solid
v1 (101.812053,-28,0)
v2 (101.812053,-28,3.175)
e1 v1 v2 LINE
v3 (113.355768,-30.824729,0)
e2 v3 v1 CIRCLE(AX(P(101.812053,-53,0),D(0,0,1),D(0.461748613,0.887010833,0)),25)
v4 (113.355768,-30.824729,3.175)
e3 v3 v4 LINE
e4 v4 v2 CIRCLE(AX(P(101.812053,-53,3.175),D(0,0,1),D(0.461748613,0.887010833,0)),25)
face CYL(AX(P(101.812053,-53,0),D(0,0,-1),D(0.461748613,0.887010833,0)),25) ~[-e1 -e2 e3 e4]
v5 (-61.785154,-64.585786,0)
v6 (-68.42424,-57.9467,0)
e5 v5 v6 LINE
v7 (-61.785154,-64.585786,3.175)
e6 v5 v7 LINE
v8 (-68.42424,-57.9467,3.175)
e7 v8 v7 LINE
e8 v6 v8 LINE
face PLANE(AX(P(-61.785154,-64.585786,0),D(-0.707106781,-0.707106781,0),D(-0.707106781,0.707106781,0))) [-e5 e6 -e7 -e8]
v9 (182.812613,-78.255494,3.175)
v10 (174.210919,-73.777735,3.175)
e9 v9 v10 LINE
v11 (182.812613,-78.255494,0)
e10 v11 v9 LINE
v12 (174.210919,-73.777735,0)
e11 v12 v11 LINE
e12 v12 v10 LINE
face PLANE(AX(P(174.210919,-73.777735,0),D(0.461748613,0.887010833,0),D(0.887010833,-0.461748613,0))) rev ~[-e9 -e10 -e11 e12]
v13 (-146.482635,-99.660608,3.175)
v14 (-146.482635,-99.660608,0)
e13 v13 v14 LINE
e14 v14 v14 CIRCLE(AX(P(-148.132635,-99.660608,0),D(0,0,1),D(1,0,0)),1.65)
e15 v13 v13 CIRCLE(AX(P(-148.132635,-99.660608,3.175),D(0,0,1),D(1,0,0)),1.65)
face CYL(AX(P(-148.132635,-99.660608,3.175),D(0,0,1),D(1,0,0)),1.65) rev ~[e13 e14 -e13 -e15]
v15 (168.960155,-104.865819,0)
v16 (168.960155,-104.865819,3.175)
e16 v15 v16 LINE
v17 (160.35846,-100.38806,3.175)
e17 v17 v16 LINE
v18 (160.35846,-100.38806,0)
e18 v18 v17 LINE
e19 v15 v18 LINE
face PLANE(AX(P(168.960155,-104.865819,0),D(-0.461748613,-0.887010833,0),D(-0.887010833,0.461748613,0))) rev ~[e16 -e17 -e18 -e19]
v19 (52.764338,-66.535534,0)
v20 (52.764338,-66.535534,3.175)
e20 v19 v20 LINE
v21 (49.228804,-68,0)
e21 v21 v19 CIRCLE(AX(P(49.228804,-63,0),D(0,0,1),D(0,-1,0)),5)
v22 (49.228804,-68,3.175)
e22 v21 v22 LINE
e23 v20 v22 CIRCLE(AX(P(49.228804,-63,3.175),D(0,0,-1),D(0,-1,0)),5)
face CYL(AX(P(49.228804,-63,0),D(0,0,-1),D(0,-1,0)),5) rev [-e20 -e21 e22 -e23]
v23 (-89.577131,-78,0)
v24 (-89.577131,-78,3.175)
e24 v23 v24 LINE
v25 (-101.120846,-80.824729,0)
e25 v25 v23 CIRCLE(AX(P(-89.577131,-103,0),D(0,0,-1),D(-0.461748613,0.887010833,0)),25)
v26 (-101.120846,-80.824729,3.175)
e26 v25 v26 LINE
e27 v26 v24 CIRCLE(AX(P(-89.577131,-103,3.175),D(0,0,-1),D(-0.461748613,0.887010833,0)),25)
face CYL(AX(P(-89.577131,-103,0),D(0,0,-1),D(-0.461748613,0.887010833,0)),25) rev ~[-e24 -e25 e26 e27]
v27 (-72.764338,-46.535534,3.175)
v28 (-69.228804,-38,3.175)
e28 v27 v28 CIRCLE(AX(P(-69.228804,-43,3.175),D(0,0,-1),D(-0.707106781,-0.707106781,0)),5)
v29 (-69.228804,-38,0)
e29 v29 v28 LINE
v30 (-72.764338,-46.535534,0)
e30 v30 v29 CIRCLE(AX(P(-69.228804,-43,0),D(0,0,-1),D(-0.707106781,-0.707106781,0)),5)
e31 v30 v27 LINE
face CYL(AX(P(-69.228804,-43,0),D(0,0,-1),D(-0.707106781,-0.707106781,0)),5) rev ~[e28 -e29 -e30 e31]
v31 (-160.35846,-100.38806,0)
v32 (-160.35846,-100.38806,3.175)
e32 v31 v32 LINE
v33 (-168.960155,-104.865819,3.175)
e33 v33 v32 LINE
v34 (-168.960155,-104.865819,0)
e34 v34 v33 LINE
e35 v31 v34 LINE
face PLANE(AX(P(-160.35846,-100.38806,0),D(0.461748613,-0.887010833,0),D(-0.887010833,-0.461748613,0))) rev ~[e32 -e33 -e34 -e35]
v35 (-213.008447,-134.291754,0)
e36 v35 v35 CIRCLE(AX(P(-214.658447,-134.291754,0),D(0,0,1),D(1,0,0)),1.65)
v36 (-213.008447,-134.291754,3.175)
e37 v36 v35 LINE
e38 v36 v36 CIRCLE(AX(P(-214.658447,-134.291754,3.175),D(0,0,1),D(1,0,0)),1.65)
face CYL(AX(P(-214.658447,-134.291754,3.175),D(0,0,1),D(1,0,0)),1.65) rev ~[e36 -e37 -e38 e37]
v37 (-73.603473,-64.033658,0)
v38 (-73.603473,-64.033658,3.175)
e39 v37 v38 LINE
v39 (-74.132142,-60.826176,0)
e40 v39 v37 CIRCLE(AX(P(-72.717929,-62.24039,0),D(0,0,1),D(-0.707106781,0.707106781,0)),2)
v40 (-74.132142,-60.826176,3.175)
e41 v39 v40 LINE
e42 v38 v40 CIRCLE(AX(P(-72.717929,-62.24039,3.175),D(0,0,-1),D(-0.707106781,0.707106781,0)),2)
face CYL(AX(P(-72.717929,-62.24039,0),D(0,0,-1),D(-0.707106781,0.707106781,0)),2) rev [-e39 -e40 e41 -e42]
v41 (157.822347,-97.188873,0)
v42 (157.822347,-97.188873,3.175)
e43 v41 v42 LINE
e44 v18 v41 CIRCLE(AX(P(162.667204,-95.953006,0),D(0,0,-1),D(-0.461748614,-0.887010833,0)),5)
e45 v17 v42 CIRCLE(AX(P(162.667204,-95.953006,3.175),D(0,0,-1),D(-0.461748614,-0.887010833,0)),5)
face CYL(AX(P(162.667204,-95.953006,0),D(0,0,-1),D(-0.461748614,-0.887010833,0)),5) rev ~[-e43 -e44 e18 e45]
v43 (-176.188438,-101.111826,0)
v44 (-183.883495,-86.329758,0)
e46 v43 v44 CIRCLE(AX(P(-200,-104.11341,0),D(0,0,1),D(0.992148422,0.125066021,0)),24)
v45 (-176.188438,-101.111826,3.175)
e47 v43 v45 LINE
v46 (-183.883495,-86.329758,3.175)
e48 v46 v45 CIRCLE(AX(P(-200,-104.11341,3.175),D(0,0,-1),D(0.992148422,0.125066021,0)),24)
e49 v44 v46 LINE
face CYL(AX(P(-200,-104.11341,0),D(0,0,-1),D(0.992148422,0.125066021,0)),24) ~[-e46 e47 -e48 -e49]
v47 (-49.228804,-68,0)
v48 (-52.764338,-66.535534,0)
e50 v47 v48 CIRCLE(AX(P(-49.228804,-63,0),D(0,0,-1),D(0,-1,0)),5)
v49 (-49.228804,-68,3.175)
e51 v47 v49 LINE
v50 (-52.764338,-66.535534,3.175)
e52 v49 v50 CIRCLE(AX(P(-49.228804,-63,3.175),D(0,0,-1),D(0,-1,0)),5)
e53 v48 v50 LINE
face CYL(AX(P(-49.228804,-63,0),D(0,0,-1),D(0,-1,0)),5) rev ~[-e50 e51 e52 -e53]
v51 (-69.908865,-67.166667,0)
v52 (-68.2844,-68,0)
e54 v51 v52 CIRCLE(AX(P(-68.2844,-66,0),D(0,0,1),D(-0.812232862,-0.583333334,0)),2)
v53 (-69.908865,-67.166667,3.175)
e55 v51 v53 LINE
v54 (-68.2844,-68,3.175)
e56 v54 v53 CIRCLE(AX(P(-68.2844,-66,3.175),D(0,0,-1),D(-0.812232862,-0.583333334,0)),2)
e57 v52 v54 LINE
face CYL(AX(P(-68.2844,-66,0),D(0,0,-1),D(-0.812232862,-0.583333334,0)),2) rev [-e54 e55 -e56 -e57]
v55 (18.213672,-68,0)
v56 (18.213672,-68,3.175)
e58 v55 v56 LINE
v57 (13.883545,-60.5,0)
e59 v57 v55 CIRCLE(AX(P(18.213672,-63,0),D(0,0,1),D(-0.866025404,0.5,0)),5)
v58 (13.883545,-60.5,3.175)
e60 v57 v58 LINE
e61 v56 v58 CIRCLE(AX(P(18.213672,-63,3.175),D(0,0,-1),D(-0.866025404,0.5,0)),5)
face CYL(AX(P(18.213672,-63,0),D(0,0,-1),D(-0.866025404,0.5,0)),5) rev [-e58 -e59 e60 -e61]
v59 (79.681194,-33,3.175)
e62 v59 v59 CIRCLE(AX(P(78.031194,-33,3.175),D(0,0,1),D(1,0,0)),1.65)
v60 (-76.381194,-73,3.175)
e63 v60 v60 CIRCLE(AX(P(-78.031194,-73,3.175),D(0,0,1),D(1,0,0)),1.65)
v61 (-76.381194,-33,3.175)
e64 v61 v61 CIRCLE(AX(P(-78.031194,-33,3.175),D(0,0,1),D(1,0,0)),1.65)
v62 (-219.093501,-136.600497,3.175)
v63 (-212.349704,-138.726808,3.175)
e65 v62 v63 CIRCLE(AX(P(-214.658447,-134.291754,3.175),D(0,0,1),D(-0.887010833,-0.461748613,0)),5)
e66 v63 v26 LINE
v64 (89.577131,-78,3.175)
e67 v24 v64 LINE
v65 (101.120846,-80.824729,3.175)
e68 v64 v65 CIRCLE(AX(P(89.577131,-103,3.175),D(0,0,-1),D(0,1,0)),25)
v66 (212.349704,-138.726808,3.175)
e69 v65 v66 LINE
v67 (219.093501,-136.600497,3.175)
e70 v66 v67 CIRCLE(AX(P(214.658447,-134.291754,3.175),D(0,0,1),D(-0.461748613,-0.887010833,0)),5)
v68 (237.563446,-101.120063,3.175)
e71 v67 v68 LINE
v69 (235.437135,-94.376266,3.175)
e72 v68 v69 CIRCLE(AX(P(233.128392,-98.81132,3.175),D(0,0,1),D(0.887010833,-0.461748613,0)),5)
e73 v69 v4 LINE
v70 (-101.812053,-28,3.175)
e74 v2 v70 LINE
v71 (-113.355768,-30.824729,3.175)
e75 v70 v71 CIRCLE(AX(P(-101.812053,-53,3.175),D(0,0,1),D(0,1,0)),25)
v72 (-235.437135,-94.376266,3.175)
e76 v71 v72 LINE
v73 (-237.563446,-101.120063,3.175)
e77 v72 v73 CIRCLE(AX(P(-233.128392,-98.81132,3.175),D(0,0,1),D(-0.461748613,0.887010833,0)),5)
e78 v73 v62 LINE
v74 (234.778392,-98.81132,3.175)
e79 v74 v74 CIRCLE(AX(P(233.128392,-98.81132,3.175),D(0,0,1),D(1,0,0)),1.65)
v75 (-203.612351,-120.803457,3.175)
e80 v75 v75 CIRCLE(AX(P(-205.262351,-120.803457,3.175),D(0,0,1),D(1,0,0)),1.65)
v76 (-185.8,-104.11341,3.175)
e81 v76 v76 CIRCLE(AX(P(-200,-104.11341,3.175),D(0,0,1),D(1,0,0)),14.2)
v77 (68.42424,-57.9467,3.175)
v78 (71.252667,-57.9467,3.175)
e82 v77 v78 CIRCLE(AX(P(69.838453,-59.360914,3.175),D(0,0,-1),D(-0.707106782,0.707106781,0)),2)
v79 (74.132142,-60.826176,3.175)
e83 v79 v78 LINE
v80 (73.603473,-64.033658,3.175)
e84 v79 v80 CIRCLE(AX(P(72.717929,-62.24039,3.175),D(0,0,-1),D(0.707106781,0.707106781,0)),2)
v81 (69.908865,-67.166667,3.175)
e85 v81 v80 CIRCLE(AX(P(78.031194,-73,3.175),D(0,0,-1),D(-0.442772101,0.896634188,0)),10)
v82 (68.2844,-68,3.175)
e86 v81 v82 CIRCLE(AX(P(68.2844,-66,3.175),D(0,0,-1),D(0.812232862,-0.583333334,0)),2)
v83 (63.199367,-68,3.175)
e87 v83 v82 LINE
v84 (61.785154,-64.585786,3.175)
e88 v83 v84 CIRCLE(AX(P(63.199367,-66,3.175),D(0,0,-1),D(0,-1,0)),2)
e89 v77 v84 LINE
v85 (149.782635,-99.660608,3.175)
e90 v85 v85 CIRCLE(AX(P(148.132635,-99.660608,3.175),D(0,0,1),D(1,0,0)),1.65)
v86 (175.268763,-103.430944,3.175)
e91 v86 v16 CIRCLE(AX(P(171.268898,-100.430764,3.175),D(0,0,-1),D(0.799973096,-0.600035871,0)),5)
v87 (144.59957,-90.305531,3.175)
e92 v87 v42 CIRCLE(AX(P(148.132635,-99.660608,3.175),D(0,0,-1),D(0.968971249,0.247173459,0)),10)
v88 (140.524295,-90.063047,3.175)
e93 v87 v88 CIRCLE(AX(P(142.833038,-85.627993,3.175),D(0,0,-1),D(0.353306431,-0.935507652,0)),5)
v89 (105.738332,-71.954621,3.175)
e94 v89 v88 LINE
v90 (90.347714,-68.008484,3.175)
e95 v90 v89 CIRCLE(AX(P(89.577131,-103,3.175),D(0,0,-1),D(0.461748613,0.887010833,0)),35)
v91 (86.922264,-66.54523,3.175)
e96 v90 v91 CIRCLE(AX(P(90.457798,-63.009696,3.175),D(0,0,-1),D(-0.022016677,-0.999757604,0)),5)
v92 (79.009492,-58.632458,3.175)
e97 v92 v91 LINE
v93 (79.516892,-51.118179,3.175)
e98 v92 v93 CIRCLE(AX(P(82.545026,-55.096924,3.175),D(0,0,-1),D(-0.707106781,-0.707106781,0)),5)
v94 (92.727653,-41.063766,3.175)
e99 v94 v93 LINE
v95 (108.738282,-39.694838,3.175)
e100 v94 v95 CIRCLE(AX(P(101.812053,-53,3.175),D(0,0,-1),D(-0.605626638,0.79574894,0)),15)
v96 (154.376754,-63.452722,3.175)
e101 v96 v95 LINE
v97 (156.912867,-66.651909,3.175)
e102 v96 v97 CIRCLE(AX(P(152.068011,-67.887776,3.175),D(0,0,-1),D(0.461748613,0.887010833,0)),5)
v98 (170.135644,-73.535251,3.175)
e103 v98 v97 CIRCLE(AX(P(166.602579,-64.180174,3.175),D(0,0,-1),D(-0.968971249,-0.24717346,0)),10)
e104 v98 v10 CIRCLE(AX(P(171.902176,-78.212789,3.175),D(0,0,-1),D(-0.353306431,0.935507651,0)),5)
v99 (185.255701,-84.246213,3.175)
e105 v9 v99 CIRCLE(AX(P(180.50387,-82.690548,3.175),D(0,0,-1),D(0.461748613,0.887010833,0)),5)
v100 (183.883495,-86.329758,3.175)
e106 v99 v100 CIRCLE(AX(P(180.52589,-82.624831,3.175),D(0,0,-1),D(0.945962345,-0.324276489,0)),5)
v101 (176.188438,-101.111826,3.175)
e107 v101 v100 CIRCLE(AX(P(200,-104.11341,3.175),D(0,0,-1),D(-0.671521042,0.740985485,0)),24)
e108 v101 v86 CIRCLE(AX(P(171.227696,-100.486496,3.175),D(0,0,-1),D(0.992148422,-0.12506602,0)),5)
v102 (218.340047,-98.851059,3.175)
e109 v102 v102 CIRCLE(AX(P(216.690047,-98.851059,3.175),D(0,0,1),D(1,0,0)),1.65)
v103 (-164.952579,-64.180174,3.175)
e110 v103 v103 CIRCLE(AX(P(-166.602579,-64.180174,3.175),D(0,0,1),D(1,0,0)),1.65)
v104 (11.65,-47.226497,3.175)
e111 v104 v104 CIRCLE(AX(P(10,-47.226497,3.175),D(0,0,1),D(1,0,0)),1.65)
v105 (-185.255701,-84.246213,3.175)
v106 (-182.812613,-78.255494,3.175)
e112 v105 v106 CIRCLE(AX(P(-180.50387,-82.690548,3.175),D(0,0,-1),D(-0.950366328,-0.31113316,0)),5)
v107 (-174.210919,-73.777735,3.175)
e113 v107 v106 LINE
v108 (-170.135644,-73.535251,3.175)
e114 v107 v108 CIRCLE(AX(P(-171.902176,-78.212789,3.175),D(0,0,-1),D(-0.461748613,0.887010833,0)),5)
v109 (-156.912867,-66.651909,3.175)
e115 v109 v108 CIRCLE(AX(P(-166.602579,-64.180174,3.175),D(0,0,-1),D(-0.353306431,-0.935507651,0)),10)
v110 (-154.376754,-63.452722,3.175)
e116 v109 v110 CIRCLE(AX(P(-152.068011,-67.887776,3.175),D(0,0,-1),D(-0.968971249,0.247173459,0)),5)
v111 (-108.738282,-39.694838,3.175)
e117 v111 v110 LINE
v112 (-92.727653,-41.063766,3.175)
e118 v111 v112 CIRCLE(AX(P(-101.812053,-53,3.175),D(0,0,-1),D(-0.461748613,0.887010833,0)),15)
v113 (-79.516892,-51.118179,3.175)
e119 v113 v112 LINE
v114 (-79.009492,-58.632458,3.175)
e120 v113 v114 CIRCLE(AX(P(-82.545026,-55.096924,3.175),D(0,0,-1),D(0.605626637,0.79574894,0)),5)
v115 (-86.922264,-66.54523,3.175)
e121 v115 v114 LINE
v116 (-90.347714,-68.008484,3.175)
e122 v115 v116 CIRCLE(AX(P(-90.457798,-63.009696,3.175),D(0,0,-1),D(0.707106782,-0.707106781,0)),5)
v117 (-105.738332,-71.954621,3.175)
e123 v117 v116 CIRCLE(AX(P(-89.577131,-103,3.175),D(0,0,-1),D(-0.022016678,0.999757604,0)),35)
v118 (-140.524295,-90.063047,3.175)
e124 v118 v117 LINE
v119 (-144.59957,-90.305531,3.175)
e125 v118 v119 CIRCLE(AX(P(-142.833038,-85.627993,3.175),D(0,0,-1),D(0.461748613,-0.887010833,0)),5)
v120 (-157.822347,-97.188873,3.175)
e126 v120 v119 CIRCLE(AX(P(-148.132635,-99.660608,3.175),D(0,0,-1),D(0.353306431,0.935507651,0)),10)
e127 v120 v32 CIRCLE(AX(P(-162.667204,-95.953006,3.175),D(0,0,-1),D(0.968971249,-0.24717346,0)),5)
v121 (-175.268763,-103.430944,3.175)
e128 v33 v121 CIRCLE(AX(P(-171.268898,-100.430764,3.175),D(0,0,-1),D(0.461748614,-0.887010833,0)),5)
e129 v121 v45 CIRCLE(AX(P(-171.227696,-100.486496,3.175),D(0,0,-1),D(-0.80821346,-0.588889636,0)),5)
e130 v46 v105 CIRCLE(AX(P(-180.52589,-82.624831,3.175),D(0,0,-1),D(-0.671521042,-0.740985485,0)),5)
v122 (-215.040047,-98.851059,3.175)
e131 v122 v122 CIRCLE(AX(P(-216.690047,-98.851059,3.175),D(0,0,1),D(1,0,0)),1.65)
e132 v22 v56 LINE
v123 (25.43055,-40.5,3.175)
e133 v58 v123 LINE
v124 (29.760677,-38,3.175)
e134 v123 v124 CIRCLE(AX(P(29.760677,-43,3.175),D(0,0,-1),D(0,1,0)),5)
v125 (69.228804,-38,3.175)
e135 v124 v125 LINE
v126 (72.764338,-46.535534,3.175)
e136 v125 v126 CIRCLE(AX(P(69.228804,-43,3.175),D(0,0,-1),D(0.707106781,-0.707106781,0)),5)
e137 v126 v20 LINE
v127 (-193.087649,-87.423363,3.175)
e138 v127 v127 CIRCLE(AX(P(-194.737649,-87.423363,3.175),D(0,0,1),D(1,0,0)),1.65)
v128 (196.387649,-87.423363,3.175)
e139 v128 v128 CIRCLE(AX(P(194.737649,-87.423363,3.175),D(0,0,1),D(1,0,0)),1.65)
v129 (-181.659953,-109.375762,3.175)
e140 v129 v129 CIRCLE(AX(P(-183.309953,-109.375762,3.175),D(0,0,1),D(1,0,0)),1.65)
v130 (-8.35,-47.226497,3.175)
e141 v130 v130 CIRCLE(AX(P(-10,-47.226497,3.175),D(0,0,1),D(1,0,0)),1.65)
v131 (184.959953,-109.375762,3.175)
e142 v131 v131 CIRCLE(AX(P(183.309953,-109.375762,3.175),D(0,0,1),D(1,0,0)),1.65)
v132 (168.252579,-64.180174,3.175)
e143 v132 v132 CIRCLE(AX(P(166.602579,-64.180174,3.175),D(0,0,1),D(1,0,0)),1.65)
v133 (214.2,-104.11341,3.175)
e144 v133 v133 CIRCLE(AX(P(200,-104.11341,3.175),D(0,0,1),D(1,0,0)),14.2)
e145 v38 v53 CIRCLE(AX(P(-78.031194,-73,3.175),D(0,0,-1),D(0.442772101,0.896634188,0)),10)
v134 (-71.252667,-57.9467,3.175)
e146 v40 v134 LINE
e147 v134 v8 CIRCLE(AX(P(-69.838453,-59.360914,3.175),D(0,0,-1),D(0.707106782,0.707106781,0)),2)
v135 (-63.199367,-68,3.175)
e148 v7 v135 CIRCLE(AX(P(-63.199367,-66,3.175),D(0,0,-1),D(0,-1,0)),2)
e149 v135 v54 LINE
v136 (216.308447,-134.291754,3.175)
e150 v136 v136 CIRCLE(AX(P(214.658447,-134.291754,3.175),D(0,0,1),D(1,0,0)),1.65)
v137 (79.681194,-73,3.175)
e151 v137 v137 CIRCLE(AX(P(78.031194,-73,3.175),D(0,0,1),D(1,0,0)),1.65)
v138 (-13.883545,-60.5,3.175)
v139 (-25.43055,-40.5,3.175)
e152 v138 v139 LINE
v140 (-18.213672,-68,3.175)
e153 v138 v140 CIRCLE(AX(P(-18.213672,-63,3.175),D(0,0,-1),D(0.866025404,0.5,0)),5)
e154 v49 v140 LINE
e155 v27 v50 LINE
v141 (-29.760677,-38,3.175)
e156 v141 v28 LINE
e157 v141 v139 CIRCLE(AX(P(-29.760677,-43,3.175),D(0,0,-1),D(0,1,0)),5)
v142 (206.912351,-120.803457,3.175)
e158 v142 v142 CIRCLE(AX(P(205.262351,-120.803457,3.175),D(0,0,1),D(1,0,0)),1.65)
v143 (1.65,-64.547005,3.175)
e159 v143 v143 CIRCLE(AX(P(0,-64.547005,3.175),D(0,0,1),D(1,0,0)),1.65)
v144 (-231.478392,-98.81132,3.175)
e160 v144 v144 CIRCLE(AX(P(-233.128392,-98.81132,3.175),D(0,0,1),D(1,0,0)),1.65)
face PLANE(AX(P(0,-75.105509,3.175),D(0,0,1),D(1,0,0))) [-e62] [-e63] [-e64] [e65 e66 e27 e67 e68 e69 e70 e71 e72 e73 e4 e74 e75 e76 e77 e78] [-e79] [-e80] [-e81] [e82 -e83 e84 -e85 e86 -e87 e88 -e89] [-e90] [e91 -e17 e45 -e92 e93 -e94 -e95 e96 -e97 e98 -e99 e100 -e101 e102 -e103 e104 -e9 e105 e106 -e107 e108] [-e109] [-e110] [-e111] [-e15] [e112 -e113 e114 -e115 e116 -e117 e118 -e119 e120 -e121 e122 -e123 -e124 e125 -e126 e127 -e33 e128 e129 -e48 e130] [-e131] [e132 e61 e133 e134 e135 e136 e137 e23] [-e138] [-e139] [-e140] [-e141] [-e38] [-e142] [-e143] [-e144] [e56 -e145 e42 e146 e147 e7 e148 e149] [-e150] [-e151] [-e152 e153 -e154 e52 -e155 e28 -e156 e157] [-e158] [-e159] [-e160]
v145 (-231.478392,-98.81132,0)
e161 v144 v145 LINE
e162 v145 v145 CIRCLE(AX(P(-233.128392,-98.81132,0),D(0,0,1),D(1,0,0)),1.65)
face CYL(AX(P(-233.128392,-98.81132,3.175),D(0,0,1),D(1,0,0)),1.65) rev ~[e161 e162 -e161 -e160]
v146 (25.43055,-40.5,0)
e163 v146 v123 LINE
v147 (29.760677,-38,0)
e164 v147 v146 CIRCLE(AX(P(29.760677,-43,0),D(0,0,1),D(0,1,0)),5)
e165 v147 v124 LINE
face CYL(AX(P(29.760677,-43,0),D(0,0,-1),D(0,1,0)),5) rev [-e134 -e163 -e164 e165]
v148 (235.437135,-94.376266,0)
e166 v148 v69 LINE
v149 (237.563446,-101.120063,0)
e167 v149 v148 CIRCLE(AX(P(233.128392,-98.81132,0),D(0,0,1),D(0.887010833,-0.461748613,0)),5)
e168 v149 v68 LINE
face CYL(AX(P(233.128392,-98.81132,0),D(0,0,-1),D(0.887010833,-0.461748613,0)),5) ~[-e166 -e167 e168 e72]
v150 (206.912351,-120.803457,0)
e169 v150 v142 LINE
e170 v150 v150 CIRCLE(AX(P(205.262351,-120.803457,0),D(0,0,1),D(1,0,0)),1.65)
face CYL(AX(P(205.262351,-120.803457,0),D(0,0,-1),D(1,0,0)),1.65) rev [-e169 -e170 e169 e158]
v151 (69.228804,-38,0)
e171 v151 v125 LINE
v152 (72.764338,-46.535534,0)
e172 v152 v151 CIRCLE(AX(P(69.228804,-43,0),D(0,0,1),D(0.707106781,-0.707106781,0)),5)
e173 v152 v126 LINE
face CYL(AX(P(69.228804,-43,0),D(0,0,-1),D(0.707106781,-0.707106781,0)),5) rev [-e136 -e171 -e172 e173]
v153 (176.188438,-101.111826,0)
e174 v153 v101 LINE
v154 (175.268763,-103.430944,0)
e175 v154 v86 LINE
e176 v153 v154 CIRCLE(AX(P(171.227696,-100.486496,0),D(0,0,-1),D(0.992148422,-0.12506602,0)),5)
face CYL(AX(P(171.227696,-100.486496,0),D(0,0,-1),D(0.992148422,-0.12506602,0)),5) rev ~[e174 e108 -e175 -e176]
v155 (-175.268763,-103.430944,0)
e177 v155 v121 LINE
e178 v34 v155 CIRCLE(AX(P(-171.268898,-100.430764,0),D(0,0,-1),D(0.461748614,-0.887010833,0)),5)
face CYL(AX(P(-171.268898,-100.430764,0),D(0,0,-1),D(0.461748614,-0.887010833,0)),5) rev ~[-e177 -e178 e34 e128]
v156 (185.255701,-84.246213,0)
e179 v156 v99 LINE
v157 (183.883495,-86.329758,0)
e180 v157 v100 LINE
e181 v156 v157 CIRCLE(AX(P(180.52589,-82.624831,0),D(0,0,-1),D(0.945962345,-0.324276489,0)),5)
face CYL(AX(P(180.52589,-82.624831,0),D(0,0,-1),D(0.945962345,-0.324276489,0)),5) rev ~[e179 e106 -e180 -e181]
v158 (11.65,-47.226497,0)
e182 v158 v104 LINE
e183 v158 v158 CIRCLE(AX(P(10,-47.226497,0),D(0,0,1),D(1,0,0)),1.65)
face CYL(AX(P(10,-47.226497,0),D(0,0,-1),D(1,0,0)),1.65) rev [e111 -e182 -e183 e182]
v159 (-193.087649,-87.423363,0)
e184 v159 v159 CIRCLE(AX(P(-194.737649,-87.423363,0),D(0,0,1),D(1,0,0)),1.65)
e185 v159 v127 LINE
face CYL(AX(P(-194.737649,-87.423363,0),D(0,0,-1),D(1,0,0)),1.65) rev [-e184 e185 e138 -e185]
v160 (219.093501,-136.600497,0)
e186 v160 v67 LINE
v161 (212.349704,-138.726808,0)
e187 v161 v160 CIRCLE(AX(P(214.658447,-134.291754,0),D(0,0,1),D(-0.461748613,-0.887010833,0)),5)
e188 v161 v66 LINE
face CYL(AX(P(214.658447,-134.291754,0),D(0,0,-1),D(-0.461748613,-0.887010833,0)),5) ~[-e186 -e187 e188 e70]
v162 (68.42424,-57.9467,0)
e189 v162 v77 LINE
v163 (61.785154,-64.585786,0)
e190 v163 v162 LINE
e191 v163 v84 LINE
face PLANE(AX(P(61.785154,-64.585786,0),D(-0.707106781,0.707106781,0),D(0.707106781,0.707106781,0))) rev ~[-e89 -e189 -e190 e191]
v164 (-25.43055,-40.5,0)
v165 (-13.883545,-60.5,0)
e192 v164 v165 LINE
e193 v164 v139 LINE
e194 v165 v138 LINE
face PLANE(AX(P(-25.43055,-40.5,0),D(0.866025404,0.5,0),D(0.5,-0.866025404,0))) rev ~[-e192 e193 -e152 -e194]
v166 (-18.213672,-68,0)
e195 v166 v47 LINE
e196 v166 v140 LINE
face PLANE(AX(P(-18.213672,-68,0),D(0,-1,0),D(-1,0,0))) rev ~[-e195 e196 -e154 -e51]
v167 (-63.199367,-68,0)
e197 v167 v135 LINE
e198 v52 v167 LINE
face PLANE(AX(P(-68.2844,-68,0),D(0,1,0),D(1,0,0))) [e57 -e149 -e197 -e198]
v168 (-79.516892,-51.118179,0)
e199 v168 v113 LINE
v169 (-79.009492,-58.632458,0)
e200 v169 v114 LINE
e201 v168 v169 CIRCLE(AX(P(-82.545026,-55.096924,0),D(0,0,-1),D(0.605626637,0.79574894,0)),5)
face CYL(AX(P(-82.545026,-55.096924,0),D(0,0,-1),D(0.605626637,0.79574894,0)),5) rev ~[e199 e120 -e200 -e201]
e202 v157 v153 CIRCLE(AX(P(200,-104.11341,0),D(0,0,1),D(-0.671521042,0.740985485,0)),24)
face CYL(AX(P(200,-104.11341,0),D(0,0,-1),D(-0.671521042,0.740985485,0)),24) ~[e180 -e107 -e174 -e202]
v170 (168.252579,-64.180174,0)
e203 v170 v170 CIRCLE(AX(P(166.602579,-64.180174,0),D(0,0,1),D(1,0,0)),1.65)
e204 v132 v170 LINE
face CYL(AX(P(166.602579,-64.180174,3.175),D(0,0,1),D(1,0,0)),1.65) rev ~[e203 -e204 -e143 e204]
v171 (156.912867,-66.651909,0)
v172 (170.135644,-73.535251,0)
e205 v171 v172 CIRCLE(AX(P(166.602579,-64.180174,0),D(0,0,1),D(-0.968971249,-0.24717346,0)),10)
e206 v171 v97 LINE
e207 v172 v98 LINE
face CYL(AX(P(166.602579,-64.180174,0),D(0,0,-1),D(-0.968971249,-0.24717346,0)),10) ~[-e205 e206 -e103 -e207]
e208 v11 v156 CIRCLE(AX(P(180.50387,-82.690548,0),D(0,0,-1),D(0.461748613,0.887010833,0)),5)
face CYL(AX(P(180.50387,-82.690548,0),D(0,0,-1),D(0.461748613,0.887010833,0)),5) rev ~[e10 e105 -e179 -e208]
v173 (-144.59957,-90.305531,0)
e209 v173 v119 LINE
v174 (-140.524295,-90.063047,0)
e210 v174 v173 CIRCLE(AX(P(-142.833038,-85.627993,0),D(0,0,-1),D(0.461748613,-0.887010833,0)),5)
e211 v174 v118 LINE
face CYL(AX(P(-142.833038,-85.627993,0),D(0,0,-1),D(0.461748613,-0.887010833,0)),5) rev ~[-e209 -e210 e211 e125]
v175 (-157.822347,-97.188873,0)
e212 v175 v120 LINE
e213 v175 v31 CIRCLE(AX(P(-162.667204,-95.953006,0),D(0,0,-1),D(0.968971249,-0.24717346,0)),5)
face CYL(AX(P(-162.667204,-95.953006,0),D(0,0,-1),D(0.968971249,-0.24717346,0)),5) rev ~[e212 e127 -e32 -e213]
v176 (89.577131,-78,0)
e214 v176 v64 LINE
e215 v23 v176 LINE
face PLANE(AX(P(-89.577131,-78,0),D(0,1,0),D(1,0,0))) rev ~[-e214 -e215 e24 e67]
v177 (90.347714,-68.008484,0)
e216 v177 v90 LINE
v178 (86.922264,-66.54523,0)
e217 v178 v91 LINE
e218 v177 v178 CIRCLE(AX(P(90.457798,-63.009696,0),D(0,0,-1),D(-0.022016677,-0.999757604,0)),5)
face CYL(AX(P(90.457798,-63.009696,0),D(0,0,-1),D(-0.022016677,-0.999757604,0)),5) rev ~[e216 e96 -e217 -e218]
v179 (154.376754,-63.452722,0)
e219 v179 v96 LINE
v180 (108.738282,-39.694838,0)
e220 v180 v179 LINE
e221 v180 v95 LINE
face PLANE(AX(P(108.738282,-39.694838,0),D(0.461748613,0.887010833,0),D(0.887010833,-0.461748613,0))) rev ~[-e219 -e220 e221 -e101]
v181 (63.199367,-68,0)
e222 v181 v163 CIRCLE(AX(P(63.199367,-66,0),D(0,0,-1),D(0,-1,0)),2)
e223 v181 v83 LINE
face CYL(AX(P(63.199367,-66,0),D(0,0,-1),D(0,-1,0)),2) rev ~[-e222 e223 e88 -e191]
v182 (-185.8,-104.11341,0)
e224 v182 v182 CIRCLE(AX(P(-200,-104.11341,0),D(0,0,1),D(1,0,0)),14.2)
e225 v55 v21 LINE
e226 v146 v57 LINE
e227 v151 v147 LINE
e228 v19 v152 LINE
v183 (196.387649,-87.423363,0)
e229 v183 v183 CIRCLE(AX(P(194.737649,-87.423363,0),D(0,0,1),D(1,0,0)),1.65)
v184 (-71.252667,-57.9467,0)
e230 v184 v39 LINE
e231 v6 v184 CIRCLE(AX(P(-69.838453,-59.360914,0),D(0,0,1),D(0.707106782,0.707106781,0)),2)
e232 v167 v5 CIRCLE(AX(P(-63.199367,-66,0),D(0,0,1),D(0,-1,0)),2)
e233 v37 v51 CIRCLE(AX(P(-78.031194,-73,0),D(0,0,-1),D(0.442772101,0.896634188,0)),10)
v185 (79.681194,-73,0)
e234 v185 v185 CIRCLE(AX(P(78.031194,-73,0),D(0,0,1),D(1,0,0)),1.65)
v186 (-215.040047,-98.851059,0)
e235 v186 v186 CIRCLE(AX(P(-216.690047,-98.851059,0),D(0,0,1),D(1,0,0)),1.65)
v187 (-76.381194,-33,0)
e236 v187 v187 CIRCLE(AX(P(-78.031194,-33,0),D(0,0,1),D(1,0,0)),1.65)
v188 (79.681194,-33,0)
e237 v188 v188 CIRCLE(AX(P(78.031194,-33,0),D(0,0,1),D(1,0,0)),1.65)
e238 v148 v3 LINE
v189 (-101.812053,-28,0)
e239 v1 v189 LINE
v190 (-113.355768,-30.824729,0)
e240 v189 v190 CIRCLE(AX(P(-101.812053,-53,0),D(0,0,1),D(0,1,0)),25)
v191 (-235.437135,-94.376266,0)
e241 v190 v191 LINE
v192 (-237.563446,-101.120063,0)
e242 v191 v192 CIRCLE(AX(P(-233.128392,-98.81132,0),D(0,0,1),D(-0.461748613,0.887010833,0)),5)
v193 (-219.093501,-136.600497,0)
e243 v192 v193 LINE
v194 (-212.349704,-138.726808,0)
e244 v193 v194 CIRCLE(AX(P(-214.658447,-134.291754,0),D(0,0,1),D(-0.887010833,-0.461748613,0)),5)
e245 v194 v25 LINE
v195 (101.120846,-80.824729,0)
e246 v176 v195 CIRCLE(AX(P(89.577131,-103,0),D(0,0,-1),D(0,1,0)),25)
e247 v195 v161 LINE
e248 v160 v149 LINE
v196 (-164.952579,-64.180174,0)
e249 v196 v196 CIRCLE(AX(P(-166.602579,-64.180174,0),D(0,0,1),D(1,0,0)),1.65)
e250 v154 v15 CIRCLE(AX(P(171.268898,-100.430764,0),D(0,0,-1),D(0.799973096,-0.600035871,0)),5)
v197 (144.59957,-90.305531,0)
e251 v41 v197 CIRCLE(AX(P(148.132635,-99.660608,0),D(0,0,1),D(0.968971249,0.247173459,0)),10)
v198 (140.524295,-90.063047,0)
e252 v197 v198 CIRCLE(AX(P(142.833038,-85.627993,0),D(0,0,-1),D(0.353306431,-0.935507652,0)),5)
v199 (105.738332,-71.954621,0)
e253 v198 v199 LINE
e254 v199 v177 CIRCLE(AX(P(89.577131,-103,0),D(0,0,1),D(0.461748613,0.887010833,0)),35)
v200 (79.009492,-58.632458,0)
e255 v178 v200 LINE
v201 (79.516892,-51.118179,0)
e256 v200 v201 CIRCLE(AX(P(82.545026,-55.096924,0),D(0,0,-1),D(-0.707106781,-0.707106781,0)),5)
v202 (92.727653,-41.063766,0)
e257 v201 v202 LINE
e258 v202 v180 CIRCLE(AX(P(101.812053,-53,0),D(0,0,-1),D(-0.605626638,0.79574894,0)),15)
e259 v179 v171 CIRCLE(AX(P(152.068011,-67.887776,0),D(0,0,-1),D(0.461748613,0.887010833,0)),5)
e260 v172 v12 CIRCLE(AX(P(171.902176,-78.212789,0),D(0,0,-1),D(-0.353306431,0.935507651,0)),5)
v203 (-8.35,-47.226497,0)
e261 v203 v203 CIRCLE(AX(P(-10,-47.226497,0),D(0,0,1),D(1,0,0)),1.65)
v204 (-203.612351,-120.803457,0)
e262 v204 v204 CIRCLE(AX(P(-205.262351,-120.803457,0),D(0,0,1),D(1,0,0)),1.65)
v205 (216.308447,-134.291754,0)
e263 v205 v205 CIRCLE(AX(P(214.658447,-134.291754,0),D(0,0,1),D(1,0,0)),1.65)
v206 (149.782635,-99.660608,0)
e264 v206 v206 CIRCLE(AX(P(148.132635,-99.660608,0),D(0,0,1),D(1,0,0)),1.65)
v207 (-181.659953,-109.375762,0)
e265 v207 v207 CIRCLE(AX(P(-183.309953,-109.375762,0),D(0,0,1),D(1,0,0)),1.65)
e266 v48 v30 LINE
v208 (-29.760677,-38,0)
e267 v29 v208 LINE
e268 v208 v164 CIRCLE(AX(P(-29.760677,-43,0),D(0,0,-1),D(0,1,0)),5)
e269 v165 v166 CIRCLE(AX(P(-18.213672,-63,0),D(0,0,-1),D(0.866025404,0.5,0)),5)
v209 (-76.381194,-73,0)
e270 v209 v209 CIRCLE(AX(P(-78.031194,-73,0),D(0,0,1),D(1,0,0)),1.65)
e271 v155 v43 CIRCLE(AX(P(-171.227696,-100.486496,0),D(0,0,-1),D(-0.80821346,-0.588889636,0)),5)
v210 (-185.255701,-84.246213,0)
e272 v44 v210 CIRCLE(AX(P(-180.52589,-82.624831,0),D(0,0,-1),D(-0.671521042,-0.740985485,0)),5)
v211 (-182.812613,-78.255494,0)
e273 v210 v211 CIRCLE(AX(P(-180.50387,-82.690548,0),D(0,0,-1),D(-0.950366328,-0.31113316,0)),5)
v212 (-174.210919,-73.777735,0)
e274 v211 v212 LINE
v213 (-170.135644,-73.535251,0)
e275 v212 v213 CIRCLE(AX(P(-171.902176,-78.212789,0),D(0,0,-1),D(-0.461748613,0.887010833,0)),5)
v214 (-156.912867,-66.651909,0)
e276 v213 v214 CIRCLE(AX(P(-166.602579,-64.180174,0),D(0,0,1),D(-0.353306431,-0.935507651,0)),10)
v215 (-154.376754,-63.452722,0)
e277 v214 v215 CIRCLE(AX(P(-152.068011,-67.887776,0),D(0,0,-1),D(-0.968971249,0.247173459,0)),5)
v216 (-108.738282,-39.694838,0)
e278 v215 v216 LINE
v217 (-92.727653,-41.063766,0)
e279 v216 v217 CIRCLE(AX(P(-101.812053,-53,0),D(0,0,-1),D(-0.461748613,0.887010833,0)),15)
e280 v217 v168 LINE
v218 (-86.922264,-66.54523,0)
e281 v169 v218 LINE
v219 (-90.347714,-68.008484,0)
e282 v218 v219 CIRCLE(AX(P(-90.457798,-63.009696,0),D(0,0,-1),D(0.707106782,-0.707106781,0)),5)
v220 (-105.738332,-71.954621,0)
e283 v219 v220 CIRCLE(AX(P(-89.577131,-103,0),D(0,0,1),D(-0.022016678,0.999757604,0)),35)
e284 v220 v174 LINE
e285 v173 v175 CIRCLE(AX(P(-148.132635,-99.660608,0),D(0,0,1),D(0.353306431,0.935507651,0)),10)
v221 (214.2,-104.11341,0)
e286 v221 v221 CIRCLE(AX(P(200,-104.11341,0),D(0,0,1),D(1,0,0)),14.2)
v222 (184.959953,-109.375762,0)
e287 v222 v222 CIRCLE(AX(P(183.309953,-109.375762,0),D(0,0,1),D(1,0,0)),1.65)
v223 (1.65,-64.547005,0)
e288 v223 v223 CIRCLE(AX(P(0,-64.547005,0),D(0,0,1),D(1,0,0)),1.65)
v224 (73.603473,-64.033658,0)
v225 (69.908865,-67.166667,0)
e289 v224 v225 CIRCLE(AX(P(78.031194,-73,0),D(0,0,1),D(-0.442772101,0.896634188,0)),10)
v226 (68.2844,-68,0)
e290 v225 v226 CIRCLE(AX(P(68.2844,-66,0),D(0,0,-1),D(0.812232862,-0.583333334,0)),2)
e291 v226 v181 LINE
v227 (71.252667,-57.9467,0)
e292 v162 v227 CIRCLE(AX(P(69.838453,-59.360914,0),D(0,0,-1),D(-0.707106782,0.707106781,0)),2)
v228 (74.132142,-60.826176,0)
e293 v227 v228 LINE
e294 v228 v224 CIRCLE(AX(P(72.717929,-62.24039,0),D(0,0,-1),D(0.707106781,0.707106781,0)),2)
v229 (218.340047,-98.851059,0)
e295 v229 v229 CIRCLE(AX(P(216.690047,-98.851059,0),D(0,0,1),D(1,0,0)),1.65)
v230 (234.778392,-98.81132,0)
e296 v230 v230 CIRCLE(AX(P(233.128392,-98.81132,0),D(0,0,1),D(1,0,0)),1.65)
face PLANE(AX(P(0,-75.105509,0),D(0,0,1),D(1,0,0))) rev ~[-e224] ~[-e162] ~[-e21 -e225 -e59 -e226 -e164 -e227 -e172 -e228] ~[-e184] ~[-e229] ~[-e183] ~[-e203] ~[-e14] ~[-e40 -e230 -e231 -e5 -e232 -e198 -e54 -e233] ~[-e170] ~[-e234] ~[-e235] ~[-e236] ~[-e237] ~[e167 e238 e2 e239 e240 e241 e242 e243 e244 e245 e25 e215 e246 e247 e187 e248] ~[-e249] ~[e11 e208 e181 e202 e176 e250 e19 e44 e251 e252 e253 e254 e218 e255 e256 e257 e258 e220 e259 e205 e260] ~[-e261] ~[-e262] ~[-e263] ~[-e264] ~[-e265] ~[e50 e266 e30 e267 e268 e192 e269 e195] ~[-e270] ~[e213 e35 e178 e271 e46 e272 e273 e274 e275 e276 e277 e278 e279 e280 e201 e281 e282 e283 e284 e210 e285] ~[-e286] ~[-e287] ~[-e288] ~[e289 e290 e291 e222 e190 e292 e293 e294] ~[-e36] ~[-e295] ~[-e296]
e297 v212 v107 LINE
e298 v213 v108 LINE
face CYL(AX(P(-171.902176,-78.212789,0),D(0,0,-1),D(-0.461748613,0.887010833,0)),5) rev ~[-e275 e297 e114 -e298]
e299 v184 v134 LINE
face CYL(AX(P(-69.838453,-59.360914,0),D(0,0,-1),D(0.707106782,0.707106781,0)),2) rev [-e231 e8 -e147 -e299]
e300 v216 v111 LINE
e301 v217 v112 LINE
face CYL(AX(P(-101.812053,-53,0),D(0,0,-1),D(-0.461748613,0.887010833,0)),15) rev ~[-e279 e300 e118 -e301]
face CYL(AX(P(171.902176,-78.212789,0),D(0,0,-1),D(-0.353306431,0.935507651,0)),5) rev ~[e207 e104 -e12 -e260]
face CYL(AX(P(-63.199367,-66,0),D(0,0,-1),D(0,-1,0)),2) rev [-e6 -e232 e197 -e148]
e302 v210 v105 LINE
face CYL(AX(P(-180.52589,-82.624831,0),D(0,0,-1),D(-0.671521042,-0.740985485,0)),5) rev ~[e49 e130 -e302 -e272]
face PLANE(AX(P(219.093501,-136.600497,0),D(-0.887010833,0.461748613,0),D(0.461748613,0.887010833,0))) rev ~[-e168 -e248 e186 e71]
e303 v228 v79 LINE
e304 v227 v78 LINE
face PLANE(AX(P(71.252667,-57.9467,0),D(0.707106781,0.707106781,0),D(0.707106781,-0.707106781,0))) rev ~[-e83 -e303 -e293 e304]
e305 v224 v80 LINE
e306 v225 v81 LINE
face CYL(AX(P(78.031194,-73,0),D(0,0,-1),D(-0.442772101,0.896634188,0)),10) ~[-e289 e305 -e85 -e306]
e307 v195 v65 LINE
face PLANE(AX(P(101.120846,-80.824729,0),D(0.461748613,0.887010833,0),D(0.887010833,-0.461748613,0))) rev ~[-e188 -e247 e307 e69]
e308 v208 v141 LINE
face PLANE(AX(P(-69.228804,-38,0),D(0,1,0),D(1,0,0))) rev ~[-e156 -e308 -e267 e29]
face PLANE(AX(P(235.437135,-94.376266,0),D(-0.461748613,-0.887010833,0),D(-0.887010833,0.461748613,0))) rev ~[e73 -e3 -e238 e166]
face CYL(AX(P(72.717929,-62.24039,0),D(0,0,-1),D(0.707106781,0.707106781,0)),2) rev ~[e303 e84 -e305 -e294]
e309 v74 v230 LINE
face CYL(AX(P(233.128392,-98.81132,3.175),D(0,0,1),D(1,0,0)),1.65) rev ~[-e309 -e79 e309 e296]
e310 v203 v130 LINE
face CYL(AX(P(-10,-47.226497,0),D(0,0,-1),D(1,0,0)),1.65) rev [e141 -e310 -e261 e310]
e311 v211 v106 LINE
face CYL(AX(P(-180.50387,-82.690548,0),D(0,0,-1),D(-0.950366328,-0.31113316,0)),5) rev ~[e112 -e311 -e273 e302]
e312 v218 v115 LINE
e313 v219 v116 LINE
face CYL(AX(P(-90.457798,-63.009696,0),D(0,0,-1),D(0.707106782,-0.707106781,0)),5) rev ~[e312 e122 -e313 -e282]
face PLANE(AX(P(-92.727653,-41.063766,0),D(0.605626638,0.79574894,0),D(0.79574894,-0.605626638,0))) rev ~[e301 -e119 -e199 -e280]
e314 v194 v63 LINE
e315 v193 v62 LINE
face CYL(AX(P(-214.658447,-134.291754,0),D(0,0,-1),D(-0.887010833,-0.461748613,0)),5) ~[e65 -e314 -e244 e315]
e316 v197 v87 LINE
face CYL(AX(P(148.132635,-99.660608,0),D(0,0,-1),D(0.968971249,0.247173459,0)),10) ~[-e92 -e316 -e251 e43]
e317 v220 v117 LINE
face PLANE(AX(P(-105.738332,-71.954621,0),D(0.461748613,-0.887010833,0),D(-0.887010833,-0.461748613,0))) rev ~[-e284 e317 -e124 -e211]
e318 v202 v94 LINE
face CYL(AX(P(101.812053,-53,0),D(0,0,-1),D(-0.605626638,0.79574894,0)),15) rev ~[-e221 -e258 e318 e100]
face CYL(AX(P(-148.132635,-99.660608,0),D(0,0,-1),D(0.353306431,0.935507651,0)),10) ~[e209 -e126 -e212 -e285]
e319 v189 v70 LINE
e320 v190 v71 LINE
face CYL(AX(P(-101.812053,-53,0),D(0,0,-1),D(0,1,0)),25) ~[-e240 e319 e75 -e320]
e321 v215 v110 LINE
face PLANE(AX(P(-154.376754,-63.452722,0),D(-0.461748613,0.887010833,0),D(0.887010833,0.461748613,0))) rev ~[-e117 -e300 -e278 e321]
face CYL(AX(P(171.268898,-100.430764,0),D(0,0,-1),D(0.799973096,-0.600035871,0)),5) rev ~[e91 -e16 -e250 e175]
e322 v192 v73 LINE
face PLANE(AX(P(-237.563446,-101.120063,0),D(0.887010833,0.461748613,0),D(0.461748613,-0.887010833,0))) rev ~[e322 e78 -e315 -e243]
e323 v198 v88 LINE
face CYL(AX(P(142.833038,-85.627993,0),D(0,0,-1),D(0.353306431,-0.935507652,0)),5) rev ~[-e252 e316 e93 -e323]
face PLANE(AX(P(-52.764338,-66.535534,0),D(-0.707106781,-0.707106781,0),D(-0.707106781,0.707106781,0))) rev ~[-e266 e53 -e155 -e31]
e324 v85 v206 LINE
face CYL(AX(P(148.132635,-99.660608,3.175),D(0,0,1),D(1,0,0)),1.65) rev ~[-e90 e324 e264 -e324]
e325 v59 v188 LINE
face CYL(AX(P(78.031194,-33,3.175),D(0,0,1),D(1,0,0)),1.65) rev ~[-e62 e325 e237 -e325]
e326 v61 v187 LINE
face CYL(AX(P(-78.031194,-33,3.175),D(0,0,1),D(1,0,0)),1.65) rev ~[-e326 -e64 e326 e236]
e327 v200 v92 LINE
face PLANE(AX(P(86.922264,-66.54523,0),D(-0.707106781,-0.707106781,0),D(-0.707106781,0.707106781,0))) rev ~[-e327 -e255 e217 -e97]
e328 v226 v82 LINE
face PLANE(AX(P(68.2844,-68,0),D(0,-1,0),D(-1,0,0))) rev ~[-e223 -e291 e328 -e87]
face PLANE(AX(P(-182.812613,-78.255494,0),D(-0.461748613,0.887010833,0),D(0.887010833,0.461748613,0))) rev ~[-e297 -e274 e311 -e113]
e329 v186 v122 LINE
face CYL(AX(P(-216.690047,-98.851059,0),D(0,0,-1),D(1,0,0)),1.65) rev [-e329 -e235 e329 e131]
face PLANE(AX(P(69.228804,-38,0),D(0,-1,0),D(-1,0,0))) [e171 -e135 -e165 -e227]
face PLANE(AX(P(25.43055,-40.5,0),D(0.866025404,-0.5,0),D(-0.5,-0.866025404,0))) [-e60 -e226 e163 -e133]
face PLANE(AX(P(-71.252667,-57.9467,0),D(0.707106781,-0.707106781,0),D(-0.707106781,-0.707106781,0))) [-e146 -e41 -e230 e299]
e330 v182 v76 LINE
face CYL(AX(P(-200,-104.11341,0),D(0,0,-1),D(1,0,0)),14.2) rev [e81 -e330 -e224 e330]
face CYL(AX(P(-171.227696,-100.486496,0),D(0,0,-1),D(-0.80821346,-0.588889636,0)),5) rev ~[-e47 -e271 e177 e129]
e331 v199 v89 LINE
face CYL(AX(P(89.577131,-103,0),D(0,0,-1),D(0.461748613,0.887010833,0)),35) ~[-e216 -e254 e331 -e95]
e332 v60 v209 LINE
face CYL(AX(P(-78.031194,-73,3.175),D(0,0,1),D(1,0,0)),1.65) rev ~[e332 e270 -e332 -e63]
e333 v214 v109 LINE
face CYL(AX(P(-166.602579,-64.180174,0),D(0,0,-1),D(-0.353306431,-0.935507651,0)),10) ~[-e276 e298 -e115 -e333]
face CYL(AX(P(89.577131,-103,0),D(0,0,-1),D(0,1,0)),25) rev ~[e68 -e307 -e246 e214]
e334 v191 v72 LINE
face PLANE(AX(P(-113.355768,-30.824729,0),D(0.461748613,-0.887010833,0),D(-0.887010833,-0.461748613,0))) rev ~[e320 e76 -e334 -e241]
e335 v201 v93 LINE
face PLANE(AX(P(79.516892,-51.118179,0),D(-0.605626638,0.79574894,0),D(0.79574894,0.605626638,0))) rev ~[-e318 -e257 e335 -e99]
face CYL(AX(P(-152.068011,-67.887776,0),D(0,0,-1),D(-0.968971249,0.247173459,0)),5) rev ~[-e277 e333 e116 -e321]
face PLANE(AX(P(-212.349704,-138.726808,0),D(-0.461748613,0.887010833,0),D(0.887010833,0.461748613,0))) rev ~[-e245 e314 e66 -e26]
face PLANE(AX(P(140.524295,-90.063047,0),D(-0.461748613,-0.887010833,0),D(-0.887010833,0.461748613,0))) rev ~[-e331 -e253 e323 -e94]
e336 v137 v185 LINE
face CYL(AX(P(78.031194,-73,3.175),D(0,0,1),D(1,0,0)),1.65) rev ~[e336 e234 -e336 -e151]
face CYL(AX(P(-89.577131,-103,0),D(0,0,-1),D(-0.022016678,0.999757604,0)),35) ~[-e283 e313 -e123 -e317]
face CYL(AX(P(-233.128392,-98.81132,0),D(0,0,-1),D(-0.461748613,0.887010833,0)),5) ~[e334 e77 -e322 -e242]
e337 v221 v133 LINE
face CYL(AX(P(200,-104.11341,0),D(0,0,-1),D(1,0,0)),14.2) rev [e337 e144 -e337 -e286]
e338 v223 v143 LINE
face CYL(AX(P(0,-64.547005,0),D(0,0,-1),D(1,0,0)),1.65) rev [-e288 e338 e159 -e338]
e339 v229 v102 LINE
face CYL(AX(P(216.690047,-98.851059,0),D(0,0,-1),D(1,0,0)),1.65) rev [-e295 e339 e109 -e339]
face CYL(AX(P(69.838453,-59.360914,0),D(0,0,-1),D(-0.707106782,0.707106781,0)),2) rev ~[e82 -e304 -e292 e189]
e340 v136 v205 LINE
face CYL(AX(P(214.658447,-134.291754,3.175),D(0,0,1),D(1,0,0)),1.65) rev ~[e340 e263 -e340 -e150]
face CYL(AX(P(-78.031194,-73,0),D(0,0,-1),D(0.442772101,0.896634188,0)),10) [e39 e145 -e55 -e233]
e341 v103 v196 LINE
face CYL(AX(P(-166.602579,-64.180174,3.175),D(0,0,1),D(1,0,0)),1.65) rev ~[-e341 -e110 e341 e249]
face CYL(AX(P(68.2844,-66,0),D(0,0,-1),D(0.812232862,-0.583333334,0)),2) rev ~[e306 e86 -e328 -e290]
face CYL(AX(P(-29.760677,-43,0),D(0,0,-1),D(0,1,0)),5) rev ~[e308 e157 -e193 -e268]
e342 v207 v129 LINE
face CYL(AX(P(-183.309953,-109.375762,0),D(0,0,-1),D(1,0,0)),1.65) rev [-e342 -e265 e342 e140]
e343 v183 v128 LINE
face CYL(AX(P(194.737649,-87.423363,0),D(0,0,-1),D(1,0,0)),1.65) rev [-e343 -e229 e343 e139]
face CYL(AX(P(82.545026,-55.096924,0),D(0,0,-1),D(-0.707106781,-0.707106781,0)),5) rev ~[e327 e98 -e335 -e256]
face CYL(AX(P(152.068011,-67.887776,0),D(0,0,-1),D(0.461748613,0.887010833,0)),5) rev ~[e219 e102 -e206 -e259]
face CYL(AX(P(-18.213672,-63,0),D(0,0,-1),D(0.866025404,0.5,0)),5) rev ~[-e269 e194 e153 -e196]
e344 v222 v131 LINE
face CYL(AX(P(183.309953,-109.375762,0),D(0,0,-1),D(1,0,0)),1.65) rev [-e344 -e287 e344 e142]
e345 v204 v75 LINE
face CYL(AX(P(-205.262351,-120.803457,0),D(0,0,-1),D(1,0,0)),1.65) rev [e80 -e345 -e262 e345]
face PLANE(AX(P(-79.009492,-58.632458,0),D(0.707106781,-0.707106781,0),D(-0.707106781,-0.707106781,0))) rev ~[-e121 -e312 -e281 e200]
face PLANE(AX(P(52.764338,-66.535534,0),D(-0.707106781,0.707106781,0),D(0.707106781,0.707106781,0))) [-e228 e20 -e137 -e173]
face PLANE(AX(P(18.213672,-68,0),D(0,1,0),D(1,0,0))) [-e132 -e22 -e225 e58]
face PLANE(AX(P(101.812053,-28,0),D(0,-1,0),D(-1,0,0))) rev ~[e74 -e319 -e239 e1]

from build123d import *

# Parameters (mm, degrees)
SKETCH1_R              = 14.2
SKETCH1_R_2            = 1.65
BASE_DEPTH             = 3.175
SKETCH3_R              = 1.65
STRUT_HOLES_DEPTH      = 4.175
LIGHTENING_HOLES_DEPTH = 4.175


with BuildPart() as part:
    # Sketch1 → Base (new body)
    with BuildSketch(Plane.XY):
        with BuildLine():
            Line((-113.35576806, -30.824729171), (-235.437134887, -94.376266227))
            ThreePointArc((-235.437134887, -94.376266227), (-237.896976574, -97.307791395), (-237.563445987, -101.120063459))
            Line((-237.563445987, -101.120063459), (-219.093501457, -136.600496786))
            ThreePointArc((-219.093501457, -136.600496786), (-216.161976289, -139.060338474), (-212.349704225, -138.726807886))
            Line((-212.349704225, -138.726807886), (-101.120845899, -80.824729171))
            ThreePointArc((-101.120845899, -80.824729171), (-95.519277876, -78.716448255), (-89.577130568, -78))
            Line((-89.577130568, -78), (89.577130568, -78))
            ThreePointArc((89.577130568, -78), (95.519277876, -78.716448255), (101.120845899, -80.824729171))
            Line((101.120845899, -80.824729171), (212.349704225, -138.726807886))
            ThreePointArc((212.349704225, -138.726807886), (216.161976289, -139.060338474), (219.093501457, -136.600496786))
            Line((219.093501457, -136.600496786), (237.563445987, -101.120063459))
            ThreePointArc((237.563445987, -101.120063459), (237.896976574, -97.307791395), (235.437134887, -94.376266227))
            Line((235.437134887, -94.376266227), (113.35576806, -30.824729171))
            ThreePointArc((113.35576806, -30.824729171), (107.754200038, -28.716448255), (101.812052729, -28))
            Line((101.812052729, -28), (-101.812052729, -28))
            ThreePointArc((-101.812052729, -28), (-107.754200038, -28.716448255), (-113.35576806, -30.824729171))
        make_face()
        with Locations((-200, -104.11341011)):
            Circle(SKETCH1_R, mode=Mode.SUBTRACT)
        with Locations((-216.690046638, -98.851058619)):
            Circle(SKETCH1_R_2, mode=Mode.SUBTRACT)
        with Locations((-194.737648509, -87.423363472)):
            Circle(SKETCH1_R_2, mode=Mode.SUBTRACT)
        with Locations((-183.309953362, -109.375761602)):
            Circle(SKETCH1_R_2, mode=Mode.SUBTRACT)
        with Locations((-205.262351491, -120.803456748)):
            Circle(SKETCH1_R_2, mode=Mode.SUBTRACT)
        with Locations((205.262351491, -120.803456748)):
            Circle(SKETCH1_R_2, mode=Mode.SUBTRACT)
        with Locations((216.690046638, -98.851058619)):
            Circle(SKETCH1_R_2, mode=Mode.SUBTRACT)
        with Locations((194.737648509, -87.423363472)):
            Circle(SKETCH1_R_2, mode=Mode.SUBTRACT)
        with Locations((183.309953362, -109.375761602)):
            Circle(SKETCH1_R_2, mode=Mode.SUBTRACT)
        with Locations((200, -104.11341011)):
            Circle(SKETCH1_R, mode=Mode.SUBTRACT)
        with Locations((-10, -47.226497308)):
            Circle(SKETCH1_R_2, mode=Mode.SUBTRACT)
        with Locations((10, -47.226497308)):
            Circle(SKETCH1_R_2, mode=Mode.SUBTRACT)
        with Locations((0, -64.547005384)):
            Circle(SKETCH1_R_2, mode=Mode.SUBTRACT)
    extrude(amount=BASE_DEPTH)

    # Sketch3 → Strut Holes (cut, through all)
    with BuildSketch(Plane.XY.offset(3.175)):
        with Locations((-214.658447291, -134.29175372)):
            Circle(SKETCH3_R)
        with Locations((-148.132634803, -99.660607727)):
            Circle(SKETCH3_R)
        with Locations((-78.03119405, -73)):
            Circle(SKETCH3_R)
        with Locations((-78.03119405, -33)):
            Circle(SKETCH3_R)
        with Locations((-166.602579332, -64.1801744)):
            Circle(SKETCH3_R)
        with Locations((-233.128391821, -98.811320393)):
            Circle(SKETCH3_R)
        with Locations((233.128391821, -98.811320393)):
            Circle(SKETCH3_R)
        with Locations((166.602579332, -64.1801744)):
            Circle(SKETCH3_R)
        with Locations((78.03119405, -33)):
            Circle(SKETCH3_R)
        with Locations((78.03119405, -73)):
            Circle(SKETCH3_R)
        with Locations((148.132634803, -99.660607727)):
            Circle(SKETCH3_R)
        with Locations((214.658447291, -134.29175372)):
            Circle(SKETCH3_R)
    extrude(amount=-STRUT_HOLES_DEPTH, mode=Mode.SUBTRACT)

    # Sketch4 → Lightening Holes (cut, through all)
    with BuildSketch(Plane(origin=(0, 0, 0), x_dir=(-1, 0, 0), z_dir=(0, 0, -1))):
        with BuildLine():
            Line((-168.960154528, -104.865818506), (-160.358460468, -100.38806))
            ThreePointArc((-160.358460468, -100.38806), (-158.749015825, -99.059097441), (-157.82234729, -97.188873132))
            ThreePointArc((-157.82234729, -97.188873132), (-152.750120935, -90.790499395), (-144.599570492, -90.305531214))
            ThreePointArc((-144.599570492, -90.305531214), (-142.53605719, -90.619165384), (-140.52429527, -90.063047123))
            Line((-140.52429527, -90.063047123), (-105.738332031, -71.954620839))
            ThreePointArc((-105.738332031, -71.954620839), (-98.269905543, -69.096671797), (-90.347714306, -68.008483875))
            ThreePointArc((-90.347714306, -68.008483875), (-88.493641512, -67.607748759), (-86.922263791, -66.545229763))
            Line((-86.922263791, -66.545229763), (-79.009491694, -58.632457666))
            ThreePointArc((-79.009491694, -58.632457666), (-77.556385787, -54.760066484), (-79.516892411, -51.11817906))
            Line((-79.516892411, -51.11817906), (-92.727653164, -41.063765898))
            ThreePointArc((-92.727653164, -41.063765898), (-100.534196684, -38.054529652), (-108.738281928, -39.694837502))
            Line((-108.738281928, -39.694837502), (-154.376753667, -63.452722127))
            ThreePointArc((-154.376753667, -63.452722127), (-155.986198311, -64.781684686), (-156.912866845, -66.651908996))
            ThreePointArc((-156.912866845, -66.651908996), (-161.9850932, -73.050282732), (-170.135643643, -73.535250914))
            ThreePointArc((-170.135643643, -73.535250914), (-172.199156946, -73.221616743), (-174.210918865, -73.777735004))
            Line((-174.210918865, -73.777735004), (-182.812612925, -78.255493511))
            ThreePointArc((-182.812612925, -78.255493511), (-185.133676574, -80.802456106), (-185.255701497, -84.246213479))
            ThreePointArc((-185.255701497, -84.246213479), (-184.701637381, -85.374945921), (-183.883494983, -86.32975846))
            ThreePointArc((-183.883494983, -86.32975846), (-178.711740004, -93.031443393), (-176.188437881, -101.111825618))
            ThreePointArc((-176.188437881, -101.111825618), (-175.875568439, -102.329666609), (-175.268763073, -103.430943694))
            ThreePointArc((-175.268763073, -103.430943694), (-172.377811561, -105.306244811), (-168.960154528, -104.865818506))
        make_face()
        with BuildLine():
            Line((-68.284399705, -68), (-63.199367137, -68))
            ThreePointArc((-63.199367137, -68), (-61.351608072, -66.765366865), (-61.785153575, -64.585786438))
            Line((-61.785153575, -64.585786438), (-68.424239552, -57.946700461))
            ThreePointArc((-68.424239552, -57.946700461), (-69.838453114, -57.360914023), (-71.252666676, -57.946700461))
            Line((-71.252666676, -57.946700461), (-74.132142401, -60.826176185))
            ThreePointArc((-74.132142401, -60.826176185), (-74.691303243, -62.565648815), (-73.60347304, -64.033658123))
            ThreePointArc((-73.60347304, -64.033658123), (-71.563592326, -65.373065627), (-69.908865429, -67.166666667))
            ThreePointArc((-69.908865429, -67.166666667), (-69.197270634, -67.779513042), (-68.284399705, -68))
        make_face()
        with BuildLine():
            Line((-25.430550415, -40.5), (-13.883545032, -60.5))
            ThreePointArc((-13.883545032, -60.5), (-13.883545032, -65.5), (-18.21367205, -68))
            Line((-18.21367205, -68), (-49.228804389, -68))
            ThreePointArc((-49.228804389, -68), (-51.14222155, -67.619397663), (-52.764338294, -66.535533906))
            Line((-52.764338294, -66.535533906), (-72.764338294, -46.535533906))
            ThreePointArc((-72.764338294, -46.535533906), (-73.848202051, -41.086582838), (-69.228804389, -38))
            Line((-69.228804389, -38), (-29.760677434, -38))
            ThreePointArc((-29.760677434, -38), (-27.260677434, -38.669872981), (-25.430550415, -40.5))
        make_face()
        with BuildLine():
            Line((52.764338294, -66.535533906), (72.764338294, -46.535533906))
            ThreePointArc((72.764338294, -46.535533906), (73.848202051, -41.086582838), (69.228804389, -38))
            Line((69.228804389, -38), (29.760677434, -38))
            ThreePointArc((29.760677434, -38), (27.260677434, -38.669872981), (25.430550415, -40.5))
            Line((25.430550415, -40.5), (13.883545032, -60.5))
            ThreePointArc((13.883545032, -60.5), (13.883545032, -65.5), (18.21367205, -68))
            Line((18.21367205, -68), (49.228804389, -68))
            ThreePointArc((49.228804389, -68), (51.14222155, -67.619397663), (52.764338294, -66.535533906))
        make_face()
        with BuildLine():
            Line((68.284399705, -68), (63.199367137, -68))
            ThreePointArc((63.199367137, -68), (61.351608072, -66.765366865), (61.785153575, -64.585786438))
            Line((61.785153575, -64.585786438), (68.424239552, -57.946700461))
            ThreePointArc((68.424239552, -57.946700461), (69.838453114, -57.360914023), (71.252666676, -57.946700461))
            Line((71.252666676, -57.946700461), (74.132142401, -60.826176185))
            ThreePointArc((74.132142401, -60.826176185), (74.691303243, -62.565648815), (73.60347304, -64.033658123))
            ThreePointArc((73.60347304, -64.033658123), (71.563592326, -65.373065627), (69.908865429, -67.166666667))
            ThreePointArc((69.908865429, -67.166666667), (69.197270634, -67.779513042), (68.284399705, -68))
        make_face()
        with BuildLine():
            Line((154.376753667, -63.452722127), (108.738281928, -39.694837502))
            ThreePointArc((108.738281928, -39.694837502), (100.534196684, -38.054529652), (92.727653164, -41.063765898))
            Line((92.727653164, -41.063765898), (79.516892411, -51.11817906))
            ThreePointArc((79.516892411, -51.11817906), (77.556385787, -54.760066484), (79.009491694, -58.632457666))
            Line((79.009491694, -58.632457666), (86.922263791, -66.545229763))
            ThreePointArc((86.922263791, -66.545229763), (88.493641512, -67.607748759), (90.347714306, -68.008483875))
            ThreePointArc((90.347714306, -68.008483875), (98.269905543, -69.096671797), (105.738332031, -71.954620839))
            Line((105.738332031, -71.954620839), (140.52429527, -90.063047123))
            ThreePointArc((140.52429527, -90.063047123), (142.53605719, -90.619165384), (144.599570492, -90.305531214))
            ThreePointArc((144.599570492, -90.305531214), (152.750120935, -90.790499395), (157.82234729, -97.188873132))
            ThreePointArc((157.82234729, -97.188873132), (158.749015825, -99.059097441), (160.358460468, -100.38806))
            Line((160.358460468, -100.38806), (168.960154528, -104.865818506))
            ThreePointArc((168.960154528, -104.865818506), (172.377811561, -105.306244811), (175.268763073, -103.430943694))
            ThreePointArc((175.268763073, -103.430943694), (175.875568439, -102.329666609), (176.188437881, -101.111825618))
            ThreePointArc((176.188437881, -101.111825618), (178.711740004, -93.031443393), (183.883494983, -86.32975846))
            ThreePointArc((183.883494983, -86.32975846), (184.701637381, -85.374945921), (185.255701497, -84.246213479))
            ThreePointArc((185.255701497, -84.246213479), (185.133676574, -80.802456106), (182.812612925, -78.255493511))
            Line((182.812612925, -78.255493511), (174.210918865, -73.777735004))
            ThreePointArc((174.210918865, -73.777735004), (172.199156946, -73.221616743), (170.135643643, -73.535250914))
            ThreePointArc((170.135643643, -73.535250914), (161.9850932, -73.050282732), (156.912866845, -66.651908996))
            ThreePointArc((156.912866845, -66.651908996), (155.986198311, -64.781684686), (154.376753667, -63.452722127))
        make_face()
    extrude(amount=-LIGHTENING_HOLES_DEPTH, mode=Mode.SUBTRACT)


solid = part.part
